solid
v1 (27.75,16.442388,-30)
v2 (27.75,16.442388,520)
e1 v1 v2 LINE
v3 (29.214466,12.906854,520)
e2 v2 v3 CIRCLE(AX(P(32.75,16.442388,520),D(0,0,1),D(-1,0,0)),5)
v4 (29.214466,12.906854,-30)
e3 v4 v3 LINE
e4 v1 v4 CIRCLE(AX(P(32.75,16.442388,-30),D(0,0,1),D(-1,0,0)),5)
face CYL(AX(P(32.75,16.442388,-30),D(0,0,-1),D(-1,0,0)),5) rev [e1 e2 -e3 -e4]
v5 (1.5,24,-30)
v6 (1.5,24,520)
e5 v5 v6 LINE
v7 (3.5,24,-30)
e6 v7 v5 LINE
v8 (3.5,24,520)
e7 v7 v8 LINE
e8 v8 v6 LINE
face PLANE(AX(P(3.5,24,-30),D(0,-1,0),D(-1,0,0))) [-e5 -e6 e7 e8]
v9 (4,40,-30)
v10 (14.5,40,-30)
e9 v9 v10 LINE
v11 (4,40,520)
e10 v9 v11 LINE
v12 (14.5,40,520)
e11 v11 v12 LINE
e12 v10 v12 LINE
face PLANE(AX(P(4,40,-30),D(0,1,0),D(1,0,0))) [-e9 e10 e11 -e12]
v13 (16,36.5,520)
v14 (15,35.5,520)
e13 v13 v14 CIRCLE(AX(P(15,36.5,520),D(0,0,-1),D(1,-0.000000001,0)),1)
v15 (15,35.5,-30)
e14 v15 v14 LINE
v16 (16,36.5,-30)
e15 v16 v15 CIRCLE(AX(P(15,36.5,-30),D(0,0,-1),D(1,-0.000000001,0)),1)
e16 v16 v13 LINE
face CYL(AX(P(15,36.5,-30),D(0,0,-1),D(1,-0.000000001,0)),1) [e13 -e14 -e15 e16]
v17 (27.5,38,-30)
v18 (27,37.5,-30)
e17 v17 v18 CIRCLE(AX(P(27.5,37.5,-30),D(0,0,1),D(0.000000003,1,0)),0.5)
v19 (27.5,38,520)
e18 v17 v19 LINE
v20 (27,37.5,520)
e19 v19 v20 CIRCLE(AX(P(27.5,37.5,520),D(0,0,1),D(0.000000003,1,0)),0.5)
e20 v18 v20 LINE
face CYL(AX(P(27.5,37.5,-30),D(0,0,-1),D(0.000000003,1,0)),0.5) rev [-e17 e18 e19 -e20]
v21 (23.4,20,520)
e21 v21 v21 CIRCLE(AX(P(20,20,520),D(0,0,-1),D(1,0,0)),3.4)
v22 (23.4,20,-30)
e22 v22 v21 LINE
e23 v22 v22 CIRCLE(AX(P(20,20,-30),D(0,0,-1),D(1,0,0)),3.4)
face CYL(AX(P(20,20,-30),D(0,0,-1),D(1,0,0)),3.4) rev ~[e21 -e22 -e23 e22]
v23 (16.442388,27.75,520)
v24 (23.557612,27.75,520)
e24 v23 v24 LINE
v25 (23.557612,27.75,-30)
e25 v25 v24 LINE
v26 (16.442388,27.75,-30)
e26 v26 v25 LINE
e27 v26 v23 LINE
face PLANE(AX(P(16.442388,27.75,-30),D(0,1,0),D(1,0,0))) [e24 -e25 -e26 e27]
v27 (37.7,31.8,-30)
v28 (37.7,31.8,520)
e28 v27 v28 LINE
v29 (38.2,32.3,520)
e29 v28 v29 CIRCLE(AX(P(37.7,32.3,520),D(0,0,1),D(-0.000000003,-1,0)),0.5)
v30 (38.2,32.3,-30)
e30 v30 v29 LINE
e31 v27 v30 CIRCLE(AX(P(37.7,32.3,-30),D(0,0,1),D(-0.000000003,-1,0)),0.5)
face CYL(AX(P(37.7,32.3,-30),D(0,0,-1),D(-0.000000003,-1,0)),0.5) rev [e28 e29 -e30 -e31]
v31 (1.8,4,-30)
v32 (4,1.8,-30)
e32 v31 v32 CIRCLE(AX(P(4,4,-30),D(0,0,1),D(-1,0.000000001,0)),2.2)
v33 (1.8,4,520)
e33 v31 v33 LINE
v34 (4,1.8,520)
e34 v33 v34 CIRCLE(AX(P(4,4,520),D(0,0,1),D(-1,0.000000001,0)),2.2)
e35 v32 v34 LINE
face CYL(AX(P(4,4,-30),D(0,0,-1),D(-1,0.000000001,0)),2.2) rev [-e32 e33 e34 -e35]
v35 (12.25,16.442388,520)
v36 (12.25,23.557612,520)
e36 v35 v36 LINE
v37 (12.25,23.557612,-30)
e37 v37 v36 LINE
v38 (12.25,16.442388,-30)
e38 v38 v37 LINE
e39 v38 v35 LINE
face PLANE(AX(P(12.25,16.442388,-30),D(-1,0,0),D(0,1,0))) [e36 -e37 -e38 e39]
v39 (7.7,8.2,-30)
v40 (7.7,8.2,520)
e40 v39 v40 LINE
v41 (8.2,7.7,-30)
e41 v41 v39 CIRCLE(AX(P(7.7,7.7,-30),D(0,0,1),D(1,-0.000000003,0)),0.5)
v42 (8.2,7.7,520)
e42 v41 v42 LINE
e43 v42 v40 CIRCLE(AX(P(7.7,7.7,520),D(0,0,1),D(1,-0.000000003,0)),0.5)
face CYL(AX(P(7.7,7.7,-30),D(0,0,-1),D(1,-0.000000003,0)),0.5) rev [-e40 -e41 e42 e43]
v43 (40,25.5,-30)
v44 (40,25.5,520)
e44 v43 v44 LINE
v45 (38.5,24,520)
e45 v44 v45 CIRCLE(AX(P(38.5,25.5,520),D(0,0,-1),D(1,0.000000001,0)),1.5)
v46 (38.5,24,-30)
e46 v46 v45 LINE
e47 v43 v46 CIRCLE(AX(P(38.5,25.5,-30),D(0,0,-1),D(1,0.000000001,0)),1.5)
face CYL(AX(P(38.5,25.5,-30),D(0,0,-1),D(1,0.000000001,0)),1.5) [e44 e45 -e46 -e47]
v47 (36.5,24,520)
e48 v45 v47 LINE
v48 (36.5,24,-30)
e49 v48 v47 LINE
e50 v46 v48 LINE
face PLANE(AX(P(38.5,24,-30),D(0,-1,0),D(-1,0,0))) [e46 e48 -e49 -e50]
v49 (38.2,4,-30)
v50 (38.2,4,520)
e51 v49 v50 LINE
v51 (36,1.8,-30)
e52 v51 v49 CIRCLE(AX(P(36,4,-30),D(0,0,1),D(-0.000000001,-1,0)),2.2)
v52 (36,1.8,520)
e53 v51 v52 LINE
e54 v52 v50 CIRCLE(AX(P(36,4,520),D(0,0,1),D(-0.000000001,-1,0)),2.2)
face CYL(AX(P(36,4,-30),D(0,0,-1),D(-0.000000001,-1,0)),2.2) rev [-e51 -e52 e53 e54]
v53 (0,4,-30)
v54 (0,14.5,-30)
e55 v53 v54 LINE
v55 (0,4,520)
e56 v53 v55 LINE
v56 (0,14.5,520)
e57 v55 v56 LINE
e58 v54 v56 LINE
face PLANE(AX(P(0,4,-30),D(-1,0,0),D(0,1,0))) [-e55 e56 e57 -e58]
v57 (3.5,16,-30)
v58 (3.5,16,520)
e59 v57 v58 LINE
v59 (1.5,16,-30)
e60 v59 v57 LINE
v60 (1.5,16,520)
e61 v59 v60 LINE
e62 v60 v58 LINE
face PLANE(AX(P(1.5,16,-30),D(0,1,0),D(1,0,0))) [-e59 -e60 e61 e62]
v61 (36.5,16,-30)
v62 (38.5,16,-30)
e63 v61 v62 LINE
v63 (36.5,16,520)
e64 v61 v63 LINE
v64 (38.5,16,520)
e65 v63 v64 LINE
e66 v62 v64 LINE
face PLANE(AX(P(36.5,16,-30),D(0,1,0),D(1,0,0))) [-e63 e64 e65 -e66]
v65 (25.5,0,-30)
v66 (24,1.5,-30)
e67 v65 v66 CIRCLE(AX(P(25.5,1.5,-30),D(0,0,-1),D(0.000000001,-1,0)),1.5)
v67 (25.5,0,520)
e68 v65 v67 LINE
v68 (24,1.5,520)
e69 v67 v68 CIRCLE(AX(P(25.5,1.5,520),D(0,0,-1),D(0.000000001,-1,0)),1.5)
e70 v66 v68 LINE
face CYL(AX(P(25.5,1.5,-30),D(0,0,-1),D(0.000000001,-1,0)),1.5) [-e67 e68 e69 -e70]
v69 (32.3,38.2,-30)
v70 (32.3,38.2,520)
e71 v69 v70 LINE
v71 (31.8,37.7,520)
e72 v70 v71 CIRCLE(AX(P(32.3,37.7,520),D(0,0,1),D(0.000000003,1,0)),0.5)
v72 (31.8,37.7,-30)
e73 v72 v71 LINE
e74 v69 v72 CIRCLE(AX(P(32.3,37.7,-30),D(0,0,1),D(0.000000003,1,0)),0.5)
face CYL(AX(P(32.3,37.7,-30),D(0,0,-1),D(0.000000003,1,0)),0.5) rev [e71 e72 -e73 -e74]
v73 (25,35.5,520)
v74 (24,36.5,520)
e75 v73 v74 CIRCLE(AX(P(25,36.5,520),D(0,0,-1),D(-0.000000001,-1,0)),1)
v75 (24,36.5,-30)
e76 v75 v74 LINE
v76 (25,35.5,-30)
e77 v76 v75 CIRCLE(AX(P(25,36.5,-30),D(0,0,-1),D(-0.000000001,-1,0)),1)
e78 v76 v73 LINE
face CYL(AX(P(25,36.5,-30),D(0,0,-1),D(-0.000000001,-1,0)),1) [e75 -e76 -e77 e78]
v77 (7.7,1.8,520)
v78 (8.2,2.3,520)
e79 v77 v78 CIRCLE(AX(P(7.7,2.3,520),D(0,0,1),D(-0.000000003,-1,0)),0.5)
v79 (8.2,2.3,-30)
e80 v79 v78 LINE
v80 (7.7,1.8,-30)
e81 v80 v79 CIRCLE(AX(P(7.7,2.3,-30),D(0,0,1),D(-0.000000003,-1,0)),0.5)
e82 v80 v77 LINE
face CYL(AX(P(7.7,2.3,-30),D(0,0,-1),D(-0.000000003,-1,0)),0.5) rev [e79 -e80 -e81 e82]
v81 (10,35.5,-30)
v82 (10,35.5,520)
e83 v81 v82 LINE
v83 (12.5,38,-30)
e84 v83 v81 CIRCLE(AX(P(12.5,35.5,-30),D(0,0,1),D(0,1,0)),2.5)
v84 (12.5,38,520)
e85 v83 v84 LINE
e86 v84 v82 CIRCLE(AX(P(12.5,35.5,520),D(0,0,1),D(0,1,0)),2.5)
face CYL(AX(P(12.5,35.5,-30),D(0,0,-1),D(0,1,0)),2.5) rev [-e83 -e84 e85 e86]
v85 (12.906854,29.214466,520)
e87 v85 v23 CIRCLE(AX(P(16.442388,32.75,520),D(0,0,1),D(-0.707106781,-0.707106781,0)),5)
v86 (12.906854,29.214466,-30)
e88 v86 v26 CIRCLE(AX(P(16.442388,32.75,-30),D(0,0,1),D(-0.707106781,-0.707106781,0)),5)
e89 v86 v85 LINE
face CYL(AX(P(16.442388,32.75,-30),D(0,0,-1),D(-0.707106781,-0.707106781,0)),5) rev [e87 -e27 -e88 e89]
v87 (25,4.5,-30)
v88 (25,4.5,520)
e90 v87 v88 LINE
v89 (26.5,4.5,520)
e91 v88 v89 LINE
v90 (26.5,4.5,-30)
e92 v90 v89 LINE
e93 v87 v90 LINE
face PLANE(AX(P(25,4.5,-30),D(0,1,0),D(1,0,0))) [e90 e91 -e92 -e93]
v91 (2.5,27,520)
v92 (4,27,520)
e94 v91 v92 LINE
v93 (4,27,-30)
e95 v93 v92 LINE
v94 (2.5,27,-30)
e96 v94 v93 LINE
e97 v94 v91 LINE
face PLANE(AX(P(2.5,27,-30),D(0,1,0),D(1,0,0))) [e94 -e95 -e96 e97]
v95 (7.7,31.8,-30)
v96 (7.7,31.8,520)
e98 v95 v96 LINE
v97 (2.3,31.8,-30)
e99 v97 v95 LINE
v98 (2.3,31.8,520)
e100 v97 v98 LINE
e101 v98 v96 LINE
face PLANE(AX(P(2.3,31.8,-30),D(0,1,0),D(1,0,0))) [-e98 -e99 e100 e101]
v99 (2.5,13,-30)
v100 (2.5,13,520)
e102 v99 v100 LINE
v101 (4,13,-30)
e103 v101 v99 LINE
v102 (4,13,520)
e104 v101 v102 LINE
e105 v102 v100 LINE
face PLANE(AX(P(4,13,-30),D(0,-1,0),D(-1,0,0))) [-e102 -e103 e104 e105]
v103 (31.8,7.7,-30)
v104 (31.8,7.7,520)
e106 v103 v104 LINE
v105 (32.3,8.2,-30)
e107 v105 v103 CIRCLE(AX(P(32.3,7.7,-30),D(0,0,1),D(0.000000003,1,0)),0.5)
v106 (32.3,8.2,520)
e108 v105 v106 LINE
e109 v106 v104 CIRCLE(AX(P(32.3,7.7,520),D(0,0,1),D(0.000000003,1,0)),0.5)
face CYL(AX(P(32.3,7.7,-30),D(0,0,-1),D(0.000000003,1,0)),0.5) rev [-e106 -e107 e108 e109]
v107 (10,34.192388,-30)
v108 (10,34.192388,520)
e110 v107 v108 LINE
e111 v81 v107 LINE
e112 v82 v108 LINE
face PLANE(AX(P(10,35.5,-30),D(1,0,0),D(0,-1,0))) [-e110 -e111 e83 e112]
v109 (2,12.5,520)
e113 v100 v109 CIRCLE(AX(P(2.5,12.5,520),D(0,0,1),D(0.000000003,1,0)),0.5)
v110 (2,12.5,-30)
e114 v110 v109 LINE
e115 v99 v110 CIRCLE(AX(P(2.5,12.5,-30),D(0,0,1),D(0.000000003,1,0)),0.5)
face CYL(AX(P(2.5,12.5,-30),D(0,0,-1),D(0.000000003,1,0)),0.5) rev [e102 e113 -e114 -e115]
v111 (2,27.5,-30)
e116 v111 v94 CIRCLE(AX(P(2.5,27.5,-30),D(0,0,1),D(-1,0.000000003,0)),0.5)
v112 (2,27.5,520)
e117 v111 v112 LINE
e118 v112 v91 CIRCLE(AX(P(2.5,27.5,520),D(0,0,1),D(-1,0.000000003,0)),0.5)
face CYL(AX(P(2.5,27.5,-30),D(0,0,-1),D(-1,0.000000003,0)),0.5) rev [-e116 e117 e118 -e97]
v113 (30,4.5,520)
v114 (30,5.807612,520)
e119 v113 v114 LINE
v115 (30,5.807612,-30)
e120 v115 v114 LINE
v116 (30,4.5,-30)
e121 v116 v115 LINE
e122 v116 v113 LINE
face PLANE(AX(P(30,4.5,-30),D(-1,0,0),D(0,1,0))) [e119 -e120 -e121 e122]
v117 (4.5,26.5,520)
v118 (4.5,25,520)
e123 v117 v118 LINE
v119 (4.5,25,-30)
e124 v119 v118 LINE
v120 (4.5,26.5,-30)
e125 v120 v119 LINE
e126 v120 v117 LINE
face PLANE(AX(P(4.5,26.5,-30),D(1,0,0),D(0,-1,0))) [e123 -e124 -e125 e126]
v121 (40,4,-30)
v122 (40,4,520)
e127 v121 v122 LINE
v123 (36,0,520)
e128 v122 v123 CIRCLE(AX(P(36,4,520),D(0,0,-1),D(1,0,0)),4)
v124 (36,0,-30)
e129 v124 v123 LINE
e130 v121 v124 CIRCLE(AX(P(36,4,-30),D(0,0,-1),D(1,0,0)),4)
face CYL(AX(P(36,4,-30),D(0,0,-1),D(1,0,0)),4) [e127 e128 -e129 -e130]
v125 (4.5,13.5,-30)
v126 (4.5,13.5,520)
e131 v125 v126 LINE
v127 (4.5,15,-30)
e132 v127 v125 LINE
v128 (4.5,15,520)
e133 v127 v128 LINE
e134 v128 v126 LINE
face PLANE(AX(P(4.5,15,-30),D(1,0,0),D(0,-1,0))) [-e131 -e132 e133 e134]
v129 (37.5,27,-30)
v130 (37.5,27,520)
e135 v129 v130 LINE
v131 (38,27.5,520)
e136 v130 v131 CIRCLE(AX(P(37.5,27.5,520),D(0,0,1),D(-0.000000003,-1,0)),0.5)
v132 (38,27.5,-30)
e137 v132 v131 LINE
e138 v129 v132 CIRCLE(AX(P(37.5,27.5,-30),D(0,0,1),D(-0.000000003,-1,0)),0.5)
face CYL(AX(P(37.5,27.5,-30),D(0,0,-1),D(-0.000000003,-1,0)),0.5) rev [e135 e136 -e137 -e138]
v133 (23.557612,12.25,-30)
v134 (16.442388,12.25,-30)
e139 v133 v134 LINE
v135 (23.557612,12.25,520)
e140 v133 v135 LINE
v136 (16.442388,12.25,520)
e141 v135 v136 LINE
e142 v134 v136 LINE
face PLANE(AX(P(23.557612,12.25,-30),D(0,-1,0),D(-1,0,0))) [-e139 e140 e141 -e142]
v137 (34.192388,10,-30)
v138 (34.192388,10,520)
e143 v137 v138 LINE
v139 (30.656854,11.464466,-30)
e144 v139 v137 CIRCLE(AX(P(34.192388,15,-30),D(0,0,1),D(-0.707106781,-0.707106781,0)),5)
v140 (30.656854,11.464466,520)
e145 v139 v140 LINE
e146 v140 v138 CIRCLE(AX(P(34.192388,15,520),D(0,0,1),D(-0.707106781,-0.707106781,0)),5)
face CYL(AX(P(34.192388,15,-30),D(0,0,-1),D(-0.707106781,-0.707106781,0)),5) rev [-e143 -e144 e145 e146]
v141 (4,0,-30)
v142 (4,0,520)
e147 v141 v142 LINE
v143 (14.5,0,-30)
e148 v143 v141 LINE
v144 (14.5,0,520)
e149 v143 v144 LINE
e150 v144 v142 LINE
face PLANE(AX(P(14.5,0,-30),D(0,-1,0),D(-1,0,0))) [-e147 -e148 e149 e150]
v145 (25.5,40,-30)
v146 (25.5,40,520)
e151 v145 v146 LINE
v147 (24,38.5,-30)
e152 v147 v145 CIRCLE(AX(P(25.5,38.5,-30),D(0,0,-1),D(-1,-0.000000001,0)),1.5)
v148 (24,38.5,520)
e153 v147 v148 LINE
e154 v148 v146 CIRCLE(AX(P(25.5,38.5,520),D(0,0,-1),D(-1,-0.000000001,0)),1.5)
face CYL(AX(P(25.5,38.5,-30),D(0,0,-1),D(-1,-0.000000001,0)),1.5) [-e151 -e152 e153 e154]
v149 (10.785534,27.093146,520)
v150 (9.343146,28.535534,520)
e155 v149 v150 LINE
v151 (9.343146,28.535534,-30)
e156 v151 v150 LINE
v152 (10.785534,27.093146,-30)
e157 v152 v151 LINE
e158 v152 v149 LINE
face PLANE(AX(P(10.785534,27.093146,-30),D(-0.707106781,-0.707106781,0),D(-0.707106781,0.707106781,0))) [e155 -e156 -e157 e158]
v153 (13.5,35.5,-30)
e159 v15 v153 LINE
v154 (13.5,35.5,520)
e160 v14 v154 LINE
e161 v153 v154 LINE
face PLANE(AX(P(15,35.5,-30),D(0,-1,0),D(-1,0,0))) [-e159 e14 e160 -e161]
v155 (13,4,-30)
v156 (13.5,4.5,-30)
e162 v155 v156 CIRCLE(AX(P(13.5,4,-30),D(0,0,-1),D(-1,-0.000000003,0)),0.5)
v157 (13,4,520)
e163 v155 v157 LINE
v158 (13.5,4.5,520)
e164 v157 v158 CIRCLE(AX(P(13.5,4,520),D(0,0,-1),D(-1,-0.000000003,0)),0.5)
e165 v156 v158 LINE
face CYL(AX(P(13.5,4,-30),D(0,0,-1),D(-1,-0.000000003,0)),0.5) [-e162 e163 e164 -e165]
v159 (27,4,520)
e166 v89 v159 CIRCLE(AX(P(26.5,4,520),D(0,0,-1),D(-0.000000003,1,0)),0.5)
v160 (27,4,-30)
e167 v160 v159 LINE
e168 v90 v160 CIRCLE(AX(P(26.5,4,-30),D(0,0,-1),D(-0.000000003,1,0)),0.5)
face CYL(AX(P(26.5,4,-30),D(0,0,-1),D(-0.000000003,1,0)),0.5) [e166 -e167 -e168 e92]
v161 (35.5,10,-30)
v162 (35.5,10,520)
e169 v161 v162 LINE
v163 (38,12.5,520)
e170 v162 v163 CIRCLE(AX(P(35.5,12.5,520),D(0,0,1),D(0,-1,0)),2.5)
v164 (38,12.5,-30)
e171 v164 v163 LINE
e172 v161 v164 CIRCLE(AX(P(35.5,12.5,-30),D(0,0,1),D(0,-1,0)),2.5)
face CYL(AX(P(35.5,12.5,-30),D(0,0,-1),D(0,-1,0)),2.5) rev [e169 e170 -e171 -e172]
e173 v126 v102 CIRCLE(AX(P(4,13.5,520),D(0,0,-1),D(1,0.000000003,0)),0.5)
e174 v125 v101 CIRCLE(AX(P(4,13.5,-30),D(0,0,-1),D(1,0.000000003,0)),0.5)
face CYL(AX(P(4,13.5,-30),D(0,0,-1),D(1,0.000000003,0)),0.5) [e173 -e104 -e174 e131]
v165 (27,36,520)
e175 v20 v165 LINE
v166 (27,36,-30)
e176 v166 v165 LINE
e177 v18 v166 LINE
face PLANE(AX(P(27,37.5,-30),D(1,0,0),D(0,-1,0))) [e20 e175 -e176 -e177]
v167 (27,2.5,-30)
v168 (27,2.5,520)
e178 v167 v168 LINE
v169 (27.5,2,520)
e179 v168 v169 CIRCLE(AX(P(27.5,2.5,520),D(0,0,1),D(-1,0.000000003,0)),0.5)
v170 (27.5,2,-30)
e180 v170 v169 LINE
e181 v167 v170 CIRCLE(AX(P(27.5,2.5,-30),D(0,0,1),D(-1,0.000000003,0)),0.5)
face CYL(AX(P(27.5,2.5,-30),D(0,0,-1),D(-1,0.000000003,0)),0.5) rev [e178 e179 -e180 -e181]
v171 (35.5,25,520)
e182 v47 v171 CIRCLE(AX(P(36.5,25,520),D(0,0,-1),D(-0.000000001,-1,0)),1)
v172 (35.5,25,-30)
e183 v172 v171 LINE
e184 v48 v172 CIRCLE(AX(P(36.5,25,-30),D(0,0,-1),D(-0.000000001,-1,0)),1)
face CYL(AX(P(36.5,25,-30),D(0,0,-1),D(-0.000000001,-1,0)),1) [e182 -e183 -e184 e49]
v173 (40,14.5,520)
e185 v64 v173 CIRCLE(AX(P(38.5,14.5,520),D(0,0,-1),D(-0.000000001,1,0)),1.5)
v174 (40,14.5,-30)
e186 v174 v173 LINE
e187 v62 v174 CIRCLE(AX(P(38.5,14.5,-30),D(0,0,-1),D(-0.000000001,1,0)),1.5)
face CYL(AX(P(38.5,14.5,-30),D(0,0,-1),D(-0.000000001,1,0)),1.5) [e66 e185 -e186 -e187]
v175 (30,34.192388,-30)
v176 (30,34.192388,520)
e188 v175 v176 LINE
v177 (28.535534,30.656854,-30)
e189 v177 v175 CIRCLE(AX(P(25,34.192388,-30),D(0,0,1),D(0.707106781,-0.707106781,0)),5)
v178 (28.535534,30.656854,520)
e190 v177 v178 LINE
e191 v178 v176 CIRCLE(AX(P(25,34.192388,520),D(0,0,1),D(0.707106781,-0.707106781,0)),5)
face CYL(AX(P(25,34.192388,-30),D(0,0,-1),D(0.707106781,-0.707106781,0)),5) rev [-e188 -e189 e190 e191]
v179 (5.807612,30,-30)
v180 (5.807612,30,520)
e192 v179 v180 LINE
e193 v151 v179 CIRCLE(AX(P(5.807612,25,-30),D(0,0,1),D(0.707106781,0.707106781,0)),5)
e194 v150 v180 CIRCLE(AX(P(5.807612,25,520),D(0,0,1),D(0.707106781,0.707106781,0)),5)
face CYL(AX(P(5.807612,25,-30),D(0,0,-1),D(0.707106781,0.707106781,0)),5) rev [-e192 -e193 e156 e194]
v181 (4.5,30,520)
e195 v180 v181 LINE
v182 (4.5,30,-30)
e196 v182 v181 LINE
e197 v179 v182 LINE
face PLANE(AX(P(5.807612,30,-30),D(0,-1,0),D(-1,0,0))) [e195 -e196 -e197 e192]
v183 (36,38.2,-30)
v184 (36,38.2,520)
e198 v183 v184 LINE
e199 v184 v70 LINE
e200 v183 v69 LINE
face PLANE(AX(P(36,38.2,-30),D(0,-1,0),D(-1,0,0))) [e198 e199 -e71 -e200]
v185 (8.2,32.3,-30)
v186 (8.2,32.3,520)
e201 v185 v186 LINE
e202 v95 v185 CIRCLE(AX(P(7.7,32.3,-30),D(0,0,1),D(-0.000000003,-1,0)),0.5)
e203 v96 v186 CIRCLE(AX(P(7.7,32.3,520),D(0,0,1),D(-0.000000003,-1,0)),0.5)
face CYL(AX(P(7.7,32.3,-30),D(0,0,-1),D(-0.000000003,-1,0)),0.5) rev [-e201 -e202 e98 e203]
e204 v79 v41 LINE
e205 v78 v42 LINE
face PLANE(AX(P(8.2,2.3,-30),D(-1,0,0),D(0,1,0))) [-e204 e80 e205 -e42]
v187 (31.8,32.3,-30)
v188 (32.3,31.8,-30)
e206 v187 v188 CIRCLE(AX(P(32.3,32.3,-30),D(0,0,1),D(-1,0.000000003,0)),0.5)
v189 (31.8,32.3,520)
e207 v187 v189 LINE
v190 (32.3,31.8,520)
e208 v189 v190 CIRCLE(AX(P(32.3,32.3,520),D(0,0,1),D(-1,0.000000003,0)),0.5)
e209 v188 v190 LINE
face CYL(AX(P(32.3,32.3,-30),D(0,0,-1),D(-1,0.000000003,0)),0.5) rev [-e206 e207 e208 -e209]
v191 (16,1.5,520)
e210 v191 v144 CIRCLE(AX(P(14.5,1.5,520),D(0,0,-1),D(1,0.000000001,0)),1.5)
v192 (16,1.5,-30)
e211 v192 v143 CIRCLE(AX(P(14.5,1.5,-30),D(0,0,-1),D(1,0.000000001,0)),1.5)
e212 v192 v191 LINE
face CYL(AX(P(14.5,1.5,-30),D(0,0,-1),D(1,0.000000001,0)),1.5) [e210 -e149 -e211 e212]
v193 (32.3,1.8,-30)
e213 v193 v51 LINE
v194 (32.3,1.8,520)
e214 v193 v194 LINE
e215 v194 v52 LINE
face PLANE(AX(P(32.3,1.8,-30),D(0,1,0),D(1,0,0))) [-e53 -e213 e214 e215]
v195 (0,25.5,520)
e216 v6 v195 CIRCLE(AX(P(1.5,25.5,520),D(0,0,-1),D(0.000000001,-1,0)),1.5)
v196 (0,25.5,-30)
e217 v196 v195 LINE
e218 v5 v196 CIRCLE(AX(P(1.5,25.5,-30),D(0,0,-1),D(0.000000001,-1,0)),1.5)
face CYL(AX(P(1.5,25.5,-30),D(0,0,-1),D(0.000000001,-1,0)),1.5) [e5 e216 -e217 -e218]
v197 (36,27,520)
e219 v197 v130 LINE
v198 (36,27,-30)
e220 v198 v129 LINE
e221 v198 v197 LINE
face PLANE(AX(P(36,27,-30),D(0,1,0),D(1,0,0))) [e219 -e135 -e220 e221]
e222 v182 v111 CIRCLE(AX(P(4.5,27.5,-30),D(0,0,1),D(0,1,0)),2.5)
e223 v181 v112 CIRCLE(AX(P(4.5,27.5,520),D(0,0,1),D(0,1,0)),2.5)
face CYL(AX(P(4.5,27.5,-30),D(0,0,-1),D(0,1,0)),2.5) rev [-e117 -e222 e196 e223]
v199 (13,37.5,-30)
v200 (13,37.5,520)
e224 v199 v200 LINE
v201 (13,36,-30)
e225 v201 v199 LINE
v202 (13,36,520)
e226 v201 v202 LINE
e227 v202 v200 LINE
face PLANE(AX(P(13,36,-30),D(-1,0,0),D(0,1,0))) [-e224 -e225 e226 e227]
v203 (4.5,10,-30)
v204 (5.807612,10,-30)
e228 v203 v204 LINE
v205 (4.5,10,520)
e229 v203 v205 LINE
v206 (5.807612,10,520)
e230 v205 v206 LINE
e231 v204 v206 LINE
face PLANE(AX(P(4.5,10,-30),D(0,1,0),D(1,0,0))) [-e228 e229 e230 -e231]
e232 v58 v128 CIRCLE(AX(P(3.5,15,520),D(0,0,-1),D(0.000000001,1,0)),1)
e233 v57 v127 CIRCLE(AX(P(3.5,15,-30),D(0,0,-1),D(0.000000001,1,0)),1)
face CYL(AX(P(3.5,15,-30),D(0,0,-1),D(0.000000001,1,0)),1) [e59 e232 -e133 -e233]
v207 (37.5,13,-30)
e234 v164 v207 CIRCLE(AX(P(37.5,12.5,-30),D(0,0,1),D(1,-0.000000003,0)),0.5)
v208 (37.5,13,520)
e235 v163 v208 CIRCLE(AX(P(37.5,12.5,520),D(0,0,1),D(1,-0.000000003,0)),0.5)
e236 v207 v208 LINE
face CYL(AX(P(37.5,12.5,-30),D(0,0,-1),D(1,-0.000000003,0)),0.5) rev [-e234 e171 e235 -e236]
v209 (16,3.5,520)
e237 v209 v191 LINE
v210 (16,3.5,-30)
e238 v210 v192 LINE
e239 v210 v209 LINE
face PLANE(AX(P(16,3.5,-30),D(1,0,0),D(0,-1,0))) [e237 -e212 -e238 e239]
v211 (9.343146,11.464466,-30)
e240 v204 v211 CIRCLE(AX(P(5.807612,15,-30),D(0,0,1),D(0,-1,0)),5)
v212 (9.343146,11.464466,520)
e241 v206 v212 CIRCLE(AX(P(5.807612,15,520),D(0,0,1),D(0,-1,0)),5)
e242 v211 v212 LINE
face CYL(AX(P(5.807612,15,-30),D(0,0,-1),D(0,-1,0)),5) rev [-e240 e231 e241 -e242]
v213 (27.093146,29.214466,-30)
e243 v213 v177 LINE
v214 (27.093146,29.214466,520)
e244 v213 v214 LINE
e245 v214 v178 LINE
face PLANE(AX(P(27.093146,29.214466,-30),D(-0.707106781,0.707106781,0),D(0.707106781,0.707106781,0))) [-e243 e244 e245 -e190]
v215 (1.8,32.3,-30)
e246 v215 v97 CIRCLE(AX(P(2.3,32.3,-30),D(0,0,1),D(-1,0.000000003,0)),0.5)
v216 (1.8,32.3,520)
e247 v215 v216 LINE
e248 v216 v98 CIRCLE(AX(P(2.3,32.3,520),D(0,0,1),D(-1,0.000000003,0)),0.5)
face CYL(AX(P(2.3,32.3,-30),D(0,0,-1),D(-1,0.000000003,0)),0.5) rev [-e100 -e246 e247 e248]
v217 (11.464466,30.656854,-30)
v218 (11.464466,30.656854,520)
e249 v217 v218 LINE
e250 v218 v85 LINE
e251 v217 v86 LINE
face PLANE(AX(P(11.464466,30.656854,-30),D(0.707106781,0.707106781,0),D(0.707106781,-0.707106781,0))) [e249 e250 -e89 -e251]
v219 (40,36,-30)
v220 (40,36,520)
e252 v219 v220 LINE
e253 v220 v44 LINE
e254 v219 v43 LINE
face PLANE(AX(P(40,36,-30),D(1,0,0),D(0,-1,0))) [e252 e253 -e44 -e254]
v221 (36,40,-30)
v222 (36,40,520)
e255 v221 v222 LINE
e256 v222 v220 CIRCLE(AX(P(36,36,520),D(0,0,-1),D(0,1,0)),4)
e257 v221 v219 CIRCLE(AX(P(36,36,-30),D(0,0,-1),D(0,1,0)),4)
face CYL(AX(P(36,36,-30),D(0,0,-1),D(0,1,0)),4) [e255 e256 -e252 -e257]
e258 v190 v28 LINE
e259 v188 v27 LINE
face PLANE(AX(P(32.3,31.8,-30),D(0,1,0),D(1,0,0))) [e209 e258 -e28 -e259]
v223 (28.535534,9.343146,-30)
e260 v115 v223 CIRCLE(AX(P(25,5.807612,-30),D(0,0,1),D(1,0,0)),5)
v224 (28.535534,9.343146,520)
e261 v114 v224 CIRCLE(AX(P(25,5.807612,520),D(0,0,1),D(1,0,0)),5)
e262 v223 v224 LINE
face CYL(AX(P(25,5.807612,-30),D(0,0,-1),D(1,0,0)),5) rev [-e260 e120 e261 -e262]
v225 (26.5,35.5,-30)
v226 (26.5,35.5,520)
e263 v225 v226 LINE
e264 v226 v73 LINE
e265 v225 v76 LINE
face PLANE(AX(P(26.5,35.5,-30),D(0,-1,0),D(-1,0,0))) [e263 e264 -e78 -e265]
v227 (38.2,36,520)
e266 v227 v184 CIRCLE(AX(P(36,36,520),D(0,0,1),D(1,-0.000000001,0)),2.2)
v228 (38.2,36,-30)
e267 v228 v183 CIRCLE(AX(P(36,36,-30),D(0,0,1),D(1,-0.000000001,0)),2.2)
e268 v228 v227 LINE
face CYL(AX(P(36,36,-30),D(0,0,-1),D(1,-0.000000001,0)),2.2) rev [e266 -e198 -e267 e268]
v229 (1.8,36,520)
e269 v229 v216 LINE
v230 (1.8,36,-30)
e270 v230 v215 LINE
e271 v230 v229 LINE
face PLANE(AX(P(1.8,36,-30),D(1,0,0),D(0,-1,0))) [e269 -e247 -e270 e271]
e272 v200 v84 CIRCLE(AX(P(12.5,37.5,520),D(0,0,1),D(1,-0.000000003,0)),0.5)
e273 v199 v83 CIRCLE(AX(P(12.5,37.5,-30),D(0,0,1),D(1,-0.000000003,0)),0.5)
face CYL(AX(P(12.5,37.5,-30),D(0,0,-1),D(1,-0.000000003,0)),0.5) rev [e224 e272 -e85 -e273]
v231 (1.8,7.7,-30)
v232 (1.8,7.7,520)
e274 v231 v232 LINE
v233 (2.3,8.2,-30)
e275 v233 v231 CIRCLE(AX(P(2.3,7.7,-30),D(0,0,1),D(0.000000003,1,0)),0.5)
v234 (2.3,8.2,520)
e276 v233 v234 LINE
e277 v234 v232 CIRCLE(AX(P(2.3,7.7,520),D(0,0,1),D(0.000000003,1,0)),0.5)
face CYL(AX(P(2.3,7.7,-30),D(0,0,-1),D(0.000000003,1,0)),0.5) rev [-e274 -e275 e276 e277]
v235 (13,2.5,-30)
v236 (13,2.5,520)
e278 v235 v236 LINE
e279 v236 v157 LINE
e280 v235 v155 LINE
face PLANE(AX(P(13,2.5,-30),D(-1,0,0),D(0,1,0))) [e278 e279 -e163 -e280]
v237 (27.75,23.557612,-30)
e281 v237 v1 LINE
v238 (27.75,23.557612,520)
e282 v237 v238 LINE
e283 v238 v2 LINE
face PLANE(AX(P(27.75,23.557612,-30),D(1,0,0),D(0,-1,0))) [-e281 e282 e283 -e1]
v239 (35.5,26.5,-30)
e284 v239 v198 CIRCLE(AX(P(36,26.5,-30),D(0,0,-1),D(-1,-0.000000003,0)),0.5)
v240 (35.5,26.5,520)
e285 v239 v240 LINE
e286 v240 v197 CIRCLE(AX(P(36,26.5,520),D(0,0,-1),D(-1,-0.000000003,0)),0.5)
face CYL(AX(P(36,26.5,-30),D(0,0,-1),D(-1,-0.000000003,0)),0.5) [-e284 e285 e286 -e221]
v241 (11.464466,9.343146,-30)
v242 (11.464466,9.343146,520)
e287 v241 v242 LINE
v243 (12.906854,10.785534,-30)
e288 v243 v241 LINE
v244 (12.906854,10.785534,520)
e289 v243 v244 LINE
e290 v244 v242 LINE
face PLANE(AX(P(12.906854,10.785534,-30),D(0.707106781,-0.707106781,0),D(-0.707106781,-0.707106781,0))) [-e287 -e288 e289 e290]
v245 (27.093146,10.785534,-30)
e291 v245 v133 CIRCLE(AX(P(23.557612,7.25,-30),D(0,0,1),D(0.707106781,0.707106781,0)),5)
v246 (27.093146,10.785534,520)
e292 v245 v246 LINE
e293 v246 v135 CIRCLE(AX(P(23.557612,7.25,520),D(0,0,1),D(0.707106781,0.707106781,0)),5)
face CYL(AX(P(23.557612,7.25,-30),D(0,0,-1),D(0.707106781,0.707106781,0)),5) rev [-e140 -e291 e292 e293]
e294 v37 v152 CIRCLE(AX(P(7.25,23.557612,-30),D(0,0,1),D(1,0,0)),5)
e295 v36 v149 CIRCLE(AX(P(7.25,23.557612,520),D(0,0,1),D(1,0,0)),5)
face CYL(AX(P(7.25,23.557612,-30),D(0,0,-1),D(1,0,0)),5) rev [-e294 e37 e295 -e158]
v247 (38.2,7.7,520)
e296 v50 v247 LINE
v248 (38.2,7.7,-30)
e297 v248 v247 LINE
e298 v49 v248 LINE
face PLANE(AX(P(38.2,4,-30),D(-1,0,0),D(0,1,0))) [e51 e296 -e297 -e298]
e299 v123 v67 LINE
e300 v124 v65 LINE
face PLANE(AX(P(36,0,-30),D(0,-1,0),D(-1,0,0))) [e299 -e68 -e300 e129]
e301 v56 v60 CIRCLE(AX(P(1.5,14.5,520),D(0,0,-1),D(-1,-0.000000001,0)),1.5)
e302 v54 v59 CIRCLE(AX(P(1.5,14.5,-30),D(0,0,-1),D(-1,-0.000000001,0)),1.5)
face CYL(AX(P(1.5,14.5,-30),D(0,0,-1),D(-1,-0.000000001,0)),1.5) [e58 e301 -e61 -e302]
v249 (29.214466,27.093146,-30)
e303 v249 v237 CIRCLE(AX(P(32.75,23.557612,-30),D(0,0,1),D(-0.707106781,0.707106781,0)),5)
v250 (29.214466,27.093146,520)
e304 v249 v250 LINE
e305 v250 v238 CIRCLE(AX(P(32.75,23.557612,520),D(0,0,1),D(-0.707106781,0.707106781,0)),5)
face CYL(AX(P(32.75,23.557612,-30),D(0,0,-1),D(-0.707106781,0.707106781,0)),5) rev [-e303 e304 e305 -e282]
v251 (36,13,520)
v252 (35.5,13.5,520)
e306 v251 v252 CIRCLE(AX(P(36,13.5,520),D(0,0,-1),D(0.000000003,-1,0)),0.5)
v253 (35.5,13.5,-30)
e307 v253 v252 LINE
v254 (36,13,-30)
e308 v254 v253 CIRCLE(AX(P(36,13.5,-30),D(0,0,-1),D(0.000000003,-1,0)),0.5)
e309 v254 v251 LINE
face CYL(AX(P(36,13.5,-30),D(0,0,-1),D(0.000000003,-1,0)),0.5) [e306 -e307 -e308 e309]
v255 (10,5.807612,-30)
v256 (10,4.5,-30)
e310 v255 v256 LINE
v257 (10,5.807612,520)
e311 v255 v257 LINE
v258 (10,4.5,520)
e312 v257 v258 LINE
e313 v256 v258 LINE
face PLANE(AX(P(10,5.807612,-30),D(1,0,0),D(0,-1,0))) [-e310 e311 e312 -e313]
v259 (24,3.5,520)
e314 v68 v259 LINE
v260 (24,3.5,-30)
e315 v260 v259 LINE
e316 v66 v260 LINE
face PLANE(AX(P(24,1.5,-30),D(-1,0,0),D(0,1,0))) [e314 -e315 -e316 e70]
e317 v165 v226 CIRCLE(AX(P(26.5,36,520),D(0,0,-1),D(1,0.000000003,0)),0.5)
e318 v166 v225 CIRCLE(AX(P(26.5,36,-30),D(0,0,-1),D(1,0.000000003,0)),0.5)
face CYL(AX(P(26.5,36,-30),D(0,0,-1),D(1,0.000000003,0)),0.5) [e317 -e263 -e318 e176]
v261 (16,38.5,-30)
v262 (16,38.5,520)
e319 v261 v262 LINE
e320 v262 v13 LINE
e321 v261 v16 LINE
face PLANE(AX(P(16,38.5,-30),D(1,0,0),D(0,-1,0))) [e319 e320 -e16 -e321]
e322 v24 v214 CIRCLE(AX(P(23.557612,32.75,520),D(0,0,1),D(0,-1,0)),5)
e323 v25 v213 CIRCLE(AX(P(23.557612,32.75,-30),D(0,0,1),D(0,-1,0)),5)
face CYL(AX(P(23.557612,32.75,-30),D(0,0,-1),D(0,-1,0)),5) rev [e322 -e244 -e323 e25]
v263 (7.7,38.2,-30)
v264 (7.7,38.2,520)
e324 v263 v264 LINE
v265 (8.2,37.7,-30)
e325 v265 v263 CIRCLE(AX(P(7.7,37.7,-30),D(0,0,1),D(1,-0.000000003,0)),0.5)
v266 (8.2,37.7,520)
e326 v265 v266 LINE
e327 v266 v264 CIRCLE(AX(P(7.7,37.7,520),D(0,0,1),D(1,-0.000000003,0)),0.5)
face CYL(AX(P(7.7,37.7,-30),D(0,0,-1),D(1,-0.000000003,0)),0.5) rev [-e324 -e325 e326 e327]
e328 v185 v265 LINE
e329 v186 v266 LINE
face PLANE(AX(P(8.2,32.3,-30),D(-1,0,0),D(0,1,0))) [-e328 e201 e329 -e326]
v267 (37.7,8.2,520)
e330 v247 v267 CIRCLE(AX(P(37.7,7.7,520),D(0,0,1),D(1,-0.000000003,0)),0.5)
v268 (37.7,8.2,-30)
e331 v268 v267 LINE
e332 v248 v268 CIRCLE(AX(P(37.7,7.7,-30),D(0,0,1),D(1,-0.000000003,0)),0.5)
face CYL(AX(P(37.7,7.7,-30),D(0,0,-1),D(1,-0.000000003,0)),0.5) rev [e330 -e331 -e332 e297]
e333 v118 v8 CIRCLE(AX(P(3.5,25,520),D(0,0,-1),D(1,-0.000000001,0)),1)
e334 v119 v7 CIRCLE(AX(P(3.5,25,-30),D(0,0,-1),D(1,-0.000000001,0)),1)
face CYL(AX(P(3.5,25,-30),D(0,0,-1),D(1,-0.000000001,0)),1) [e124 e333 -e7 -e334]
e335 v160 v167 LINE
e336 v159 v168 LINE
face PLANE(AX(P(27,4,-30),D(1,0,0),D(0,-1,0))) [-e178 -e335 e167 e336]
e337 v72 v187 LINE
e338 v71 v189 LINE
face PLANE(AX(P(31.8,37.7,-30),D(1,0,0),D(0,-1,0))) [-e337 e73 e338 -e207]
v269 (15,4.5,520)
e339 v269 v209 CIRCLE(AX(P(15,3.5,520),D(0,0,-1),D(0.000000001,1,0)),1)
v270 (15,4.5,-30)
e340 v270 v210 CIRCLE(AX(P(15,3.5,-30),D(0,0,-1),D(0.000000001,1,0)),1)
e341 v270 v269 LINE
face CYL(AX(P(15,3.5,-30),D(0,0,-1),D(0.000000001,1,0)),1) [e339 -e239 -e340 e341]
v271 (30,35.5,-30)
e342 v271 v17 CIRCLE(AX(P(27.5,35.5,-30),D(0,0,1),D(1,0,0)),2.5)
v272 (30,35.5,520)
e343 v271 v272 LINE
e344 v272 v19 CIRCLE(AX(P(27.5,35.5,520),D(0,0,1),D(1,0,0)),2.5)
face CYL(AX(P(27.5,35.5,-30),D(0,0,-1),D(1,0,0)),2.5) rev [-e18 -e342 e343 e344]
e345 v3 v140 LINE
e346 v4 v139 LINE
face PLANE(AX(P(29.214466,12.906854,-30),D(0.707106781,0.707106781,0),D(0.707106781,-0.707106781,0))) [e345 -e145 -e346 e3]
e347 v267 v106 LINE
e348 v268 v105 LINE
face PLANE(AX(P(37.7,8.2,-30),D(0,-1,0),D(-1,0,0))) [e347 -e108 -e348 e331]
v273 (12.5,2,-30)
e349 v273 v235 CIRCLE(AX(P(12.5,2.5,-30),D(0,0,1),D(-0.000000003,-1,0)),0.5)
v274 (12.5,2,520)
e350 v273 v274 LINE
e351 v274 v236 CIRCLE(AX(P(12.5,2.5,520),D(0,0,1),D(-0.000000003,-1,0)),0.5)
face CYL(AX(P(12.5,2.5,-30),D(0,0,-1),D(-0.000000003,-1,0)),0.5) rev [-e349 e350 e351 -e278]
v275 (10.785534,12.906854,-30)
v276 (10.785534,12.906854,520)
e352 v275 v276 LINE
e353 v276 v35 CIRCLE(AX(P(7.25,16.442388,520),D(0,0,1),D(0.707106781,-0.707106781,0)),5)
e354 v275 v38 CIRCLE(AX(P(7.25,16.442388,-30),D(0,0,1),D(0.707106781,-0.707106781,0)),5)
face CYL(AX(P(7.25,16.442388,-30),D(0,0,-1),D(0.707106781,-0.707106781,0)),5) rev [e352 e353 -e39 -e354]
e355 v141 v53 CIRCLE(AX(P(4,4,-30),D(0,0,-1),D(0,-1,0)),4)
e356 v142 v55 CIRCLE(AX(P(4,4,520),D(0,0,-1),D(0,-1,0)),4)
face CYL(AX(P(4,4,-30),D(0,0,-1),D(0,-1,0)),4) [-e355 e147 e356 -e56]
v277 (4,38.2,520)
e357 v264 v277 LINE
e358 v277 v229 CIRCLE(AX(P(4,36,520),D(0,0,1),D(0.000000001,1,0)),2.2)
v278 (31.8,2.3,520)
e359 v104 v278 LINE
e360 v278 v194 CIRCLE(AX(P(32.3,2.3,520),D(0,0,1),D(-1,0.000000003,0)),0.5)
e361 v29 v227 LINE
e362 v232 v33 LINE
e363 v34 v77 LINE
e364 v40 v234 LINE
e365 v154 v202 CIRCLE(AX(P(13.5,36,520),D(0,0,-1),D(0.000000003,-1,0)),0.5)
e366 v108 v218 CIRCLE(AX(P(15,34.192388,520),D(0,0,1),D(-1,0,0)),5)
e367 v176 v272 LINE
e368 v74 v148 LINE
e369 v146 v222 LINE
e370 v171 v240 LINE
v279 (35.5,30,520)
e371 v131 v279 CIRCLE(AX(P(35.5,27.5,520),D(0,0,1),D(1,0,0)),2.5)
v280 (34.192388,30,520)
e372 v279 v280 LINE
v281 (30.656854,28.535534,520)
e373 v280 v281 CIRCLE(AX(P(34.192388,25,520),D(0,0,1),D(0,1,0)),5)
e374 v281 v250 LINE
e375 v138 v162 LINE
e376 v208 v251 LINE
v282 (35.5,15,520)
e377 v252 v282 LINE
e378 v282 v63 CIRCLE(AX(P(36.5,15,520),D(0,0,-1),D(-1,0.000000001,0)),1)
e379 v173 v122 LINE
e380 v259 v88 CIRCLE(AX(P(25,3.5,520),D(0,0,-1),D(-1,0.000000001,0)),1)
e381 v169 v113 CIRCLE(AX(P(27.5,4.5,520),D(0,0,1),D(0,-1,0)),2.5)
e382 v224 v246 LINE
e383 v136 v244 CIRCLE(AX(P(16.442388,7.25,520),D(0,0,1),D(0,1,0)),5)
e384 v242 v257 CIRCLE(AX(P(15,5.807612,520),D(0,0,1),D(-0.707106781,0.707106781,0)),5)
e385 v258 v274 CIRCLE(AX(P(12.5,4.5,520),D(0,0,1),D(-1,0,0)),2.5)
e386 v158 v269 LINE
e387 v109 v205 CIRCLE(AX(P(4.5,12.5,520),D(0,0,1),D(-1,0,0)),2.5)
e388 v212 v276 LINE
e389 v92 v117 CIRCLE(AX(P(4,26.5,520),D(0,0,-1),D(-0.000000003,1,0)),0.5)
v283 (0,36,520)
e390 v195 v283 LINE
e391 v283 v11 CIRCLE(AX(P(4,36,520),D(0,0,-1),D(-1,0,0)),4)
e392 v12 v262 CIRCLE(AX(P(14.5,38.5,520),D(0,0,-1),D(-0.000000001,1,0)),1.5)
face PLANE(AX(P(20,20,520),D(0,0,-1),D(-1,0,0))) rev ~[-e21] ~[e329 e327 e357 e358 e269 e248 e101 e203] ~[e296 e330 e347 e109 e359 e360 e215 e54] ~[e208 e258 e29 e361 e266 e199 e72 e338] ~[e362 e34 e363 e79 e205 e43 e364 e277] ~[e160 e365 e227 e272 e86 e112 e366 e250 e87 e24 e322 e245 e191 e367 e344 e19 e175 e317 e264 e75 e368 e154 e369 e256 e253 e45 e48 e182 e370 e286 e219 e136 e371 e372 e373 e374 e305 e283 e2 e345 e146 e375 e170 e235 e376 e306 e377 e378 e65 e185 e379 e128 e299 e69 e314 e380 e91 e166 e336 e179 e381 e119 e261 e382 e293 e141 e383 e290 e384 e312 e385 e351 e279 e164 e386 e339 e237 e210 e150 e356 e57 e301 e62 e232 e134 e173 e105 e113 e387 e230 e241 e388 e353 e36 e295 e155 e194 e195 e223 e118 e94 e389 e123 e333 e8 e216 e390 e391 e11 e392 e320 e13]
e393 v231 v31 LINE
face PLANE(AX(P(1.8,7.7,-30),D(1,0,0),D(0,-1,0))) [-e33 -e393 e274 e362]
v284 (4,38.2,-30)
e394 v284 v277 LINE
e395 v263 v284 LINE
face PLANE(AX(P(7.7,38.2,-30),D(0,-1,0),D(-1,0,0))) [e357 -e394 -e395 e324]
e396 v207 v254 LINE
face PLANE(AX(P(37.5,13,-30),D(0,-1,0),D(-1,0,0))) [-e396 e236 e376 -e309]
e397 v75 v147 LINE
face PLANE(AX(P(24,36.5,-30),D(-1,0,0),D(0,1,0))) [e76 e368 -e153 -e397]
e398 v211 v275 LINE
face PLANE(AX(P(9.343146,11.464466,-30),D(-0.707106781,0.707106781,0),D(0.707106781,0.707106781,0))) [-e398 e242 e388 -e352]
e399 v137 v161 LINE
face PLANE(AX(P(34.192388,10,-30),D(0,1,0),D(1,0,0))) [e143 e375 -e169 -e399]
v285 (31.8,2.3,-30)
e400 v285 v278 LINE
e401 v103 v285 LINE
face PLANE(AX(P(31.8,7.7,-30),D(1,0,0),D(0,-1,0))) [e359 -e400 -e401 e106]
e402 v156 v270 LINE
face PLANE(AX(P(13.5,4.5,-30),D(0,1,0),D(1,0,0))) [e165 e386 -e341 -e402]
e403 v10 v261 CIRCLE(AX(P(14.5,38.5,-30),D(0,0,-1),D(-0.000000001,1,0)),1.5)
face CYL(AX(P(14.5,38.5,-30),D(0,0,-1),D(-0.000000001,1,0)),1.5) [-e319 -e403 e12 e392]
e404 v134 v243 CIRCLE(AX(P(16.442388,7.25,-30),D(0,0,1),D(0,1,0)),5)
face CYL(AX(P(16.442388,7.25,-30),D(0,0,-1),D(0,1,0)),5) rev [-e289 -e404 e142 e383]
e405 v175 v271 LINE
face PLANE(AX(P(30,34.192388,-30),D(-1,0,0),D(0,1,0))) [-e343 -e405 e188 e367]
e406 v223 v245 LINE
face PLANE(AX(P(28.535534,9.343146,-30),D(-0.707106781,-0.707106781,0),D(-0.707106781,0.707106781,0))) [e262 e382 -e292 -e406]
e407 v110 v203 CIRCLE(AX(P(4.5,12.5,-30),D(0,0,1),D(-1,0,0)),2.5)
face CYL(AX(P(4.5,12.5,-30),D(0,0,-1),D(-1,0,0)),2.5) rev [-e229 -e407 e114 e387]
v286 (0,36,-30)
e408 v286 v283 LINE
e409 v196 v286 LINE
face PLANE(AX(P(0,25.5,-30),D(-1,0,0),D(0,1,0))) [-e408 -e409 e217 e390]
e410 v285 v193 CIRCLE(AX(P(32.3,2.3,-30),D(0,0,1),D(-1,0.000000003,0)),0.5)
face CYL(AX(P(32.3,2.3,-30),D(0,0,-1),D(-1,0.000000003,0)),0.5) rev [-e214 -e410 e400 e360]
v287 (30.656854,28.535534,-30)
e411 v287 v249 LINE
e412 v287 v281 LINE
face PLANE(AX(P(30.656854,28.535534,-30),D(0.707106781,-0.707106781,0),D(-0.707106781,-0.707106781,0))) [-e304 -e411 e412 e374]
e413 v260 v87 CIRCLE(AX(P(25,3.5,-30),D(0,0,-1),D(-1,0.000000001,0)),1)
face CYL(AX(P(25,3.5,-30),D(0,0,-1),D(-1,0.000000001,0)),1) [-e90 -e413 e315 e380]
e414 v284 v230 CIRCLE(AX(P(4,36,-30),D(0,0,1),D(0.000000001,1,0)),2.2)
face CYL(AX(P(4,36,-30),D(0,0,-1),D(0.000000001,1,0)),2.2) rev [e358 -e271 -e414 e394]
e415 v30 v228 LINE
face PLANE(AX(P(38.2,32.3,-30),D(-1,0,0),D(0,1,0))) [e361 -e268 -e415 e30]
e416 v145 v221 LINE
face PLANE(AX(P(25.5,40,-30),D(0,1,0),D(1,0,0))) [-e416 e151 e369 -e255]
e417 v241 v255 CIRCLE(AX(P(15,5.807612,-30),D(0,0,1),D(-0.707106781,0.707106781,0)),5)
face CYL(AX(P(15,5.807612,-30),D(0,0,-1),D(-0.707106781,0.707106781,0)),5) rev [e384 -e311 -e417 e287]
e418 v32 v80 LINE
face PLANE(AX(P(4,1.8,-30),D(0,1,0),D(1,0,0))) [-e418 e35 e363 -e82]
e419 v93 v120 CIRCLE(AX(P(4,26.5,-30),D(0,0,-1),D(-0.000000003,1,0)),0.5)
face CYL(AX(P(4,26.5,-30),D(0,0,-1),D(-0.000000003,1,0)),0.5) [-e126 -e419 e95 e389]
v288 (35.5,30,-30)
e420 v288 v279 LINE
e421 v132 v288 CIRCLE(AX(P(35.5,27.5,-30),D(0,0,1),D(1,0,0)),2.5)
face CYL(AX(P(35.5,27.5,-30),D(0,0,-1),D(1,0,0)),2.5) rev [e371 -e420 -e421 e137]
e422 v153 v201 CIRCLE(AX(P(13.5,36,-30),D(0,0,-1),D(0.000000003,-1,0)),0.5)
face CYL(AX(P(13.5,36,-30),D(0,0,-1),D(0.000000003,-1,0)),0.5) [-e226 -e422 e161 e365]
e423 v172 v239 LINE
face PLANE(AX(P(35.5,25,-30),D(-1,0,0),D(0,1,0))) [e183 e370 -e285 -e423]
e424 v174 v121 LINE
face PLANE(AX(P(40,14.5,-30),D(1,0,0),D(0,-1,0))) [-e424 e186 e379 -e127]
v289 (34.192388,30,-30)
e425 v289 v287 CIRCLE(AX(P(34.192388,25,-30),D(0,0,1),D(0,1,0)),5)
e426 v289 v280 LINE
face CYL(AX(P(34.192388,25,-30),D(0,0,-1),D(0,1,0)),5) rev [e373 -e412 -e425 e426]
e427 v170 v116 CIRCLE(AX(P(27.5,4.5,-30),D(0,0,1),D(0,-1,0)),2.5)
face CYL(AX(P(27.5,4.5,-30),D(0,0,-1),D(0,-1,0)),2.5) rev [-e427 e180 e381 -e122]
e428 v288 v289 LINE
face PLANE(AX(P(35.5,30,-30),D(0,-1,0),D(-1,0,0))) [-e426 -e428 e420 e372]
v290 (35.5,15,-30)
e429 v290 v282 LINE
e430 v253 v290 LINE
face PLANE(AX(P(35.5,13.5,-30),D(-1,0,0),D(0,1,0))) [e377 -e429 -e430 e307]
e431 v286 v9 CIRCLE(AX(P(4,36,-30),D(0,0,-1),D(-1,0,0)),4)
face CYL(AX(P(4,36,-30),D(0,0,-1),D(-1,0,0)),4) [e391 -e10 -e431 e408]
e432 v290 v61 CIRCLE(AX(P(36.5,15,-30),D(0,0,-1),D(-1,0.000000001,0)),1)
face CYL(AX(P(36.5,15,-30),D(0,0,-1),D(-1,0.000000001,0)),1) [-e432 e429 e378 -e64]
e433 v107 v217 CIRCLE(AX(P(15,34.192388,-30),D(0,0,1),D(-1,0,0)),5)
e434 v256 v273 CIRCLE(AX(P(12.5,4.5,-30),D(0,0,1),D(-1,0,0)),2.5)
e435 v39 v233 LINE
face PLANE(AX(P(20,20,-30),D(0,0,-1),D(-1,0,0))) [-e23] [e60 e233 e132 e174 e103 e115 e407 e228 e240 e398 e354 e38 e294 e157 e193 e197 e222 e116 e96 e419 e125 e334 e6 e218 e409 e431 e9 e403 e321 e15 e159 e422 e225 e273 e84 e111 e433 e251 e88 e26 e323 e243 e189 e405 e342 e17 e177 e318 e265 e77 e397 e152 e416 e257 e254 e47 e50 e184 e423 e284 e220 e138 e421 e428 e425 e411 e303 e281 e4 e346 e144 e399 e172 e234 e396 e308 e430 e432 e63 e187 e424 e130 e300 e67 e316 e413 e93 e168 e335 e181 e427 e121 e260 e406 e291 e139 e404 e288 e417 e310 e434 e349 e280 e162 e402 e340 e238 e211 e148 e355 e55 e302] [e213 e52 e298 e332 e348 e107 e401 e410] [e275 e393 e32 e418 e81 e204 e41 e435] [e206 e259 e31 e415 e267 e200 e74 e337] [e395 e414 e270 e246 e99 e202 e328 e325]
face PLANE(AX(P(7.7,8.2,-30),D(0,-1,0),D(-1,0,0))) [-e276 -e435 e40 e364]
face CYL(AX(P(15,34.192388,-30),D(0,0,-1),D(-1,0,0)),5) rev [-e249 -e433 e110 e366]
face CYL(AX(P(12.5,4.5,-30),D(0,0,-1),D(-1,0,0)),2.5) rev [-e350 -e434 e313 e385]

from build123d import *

# Parameters (mm, degrees)
ESQUISSE1_R        = 3.4
BOSS_EXTRU_1_DEPTH = 550


with BuildPart() as part:
    # Esquisse1 → Boss.-Extru.1 (new body)
    with BuildSketch(Plane(origin=(0, 0, -30), x_dir=(-1, 0, 0), z_dir=(0, 0, -1))):
        with BuildLine():
            Line((-4.5, 15), (-4.5, 13.5))
            ThreePointArc((-4.5, 13.5), (-4.353553391, 13.146446609), (-4, 13))
            Line((-4, 13), (-2.5, 13))
            ThreePointArc((-2.5, 13), (-2.146446609, 12.853553391), (-2, 12.5))
            ThreePointArc((-2, 12.5), (-2.732233047, 10.732233047), (-4.5, 10))
            Line((-4.5, 10), (-5.807611845, 10))
            ThreePointArc((-5.807611845, 10), (-7.721029006, 10.380602337), (-9.343145751, 11.464466094))
            Line((-9.343145751, 11.464466094), (-10.785533906, 12.906854249))
            ThreePointArc((-10.785533906, 12.906854249), (-11.869397663, 14.528970994), (-12.25, 16.442388155))
            Line((-12.25, 16.442388155), (-12.25, 23.557611845))
            ThreePointArc((-12.25, 23.557611845), (-11.869397663, 25.471029006), (-10.785533906, 27.093145751))
            Line((-10.785533906, 27.093145751), (-9.343145751, 28.535533906))
            ThreePointArc((-9.343145751, 28.535533906), (-7.721029006, 29.619397663), (-5.807611845, 30))
            Line((-5.807611845, 30), (-4.5, 30))
            ThreePointArc((-4.5, 30), (-2.732233047, 29.267766953), (-2, 27.5))
            ThreePointArc((-2, 27.5), (-2.146446609, 27.146446609), (-2.5, 27))
            Line((-2.5, 27), (-4, 27))
            ThreePointArc((-4, 27), (-4.353553391, 26.853553391), (-4.5, 26.5))
            Line((-4.5, 26.5), (-4.5, 25))
            ThreePointArc((-4.5, 25), (-4.207106781, 24.292893219), (-3.5, 24))
            Line((-3.5, 24), (-1.5, 24))
            ThreePointArc((-1.5, 24), (-0.439339828, 24.439339828), (0, 25.5))
            Line((0, 25.5), (0, 36))
            ThreePointArc((0, 36), (-1.171572875, 38.828427125), (-4, 40))
            Line((-4, 40), (-14.5, 40))
            ThreePointArc((-14.5, 40), (-15.560660172, 39.560660172), (-16, 38.5))
            Line((-16, 38.5), (-16, 36.5))
            ThreePointArc((-16, 36.5), (-15.707106781, 35.792893219), (-15, 35.5))
            Line((-15, 35.5), (-13.5, 35.5))
            ThreePointArc((-13.5, 35.5), (-13.146446609, 35.646446609), (-13, 36))
            Line((-13, 36), (-13, 37.5))
            ThreePointArc((-13, 37.5), (-12.853553391, 37.853553391), (-12.5, 38))
            ThreePointArc((-12.5, 38), (-10.732233047, 37.267766953), (-10, 35.5))
            Line((-10, 35.5), (-10, 34.192388155))
            ThreePointArc((-10, 34.192388155), (-10.380602337, 32.278970994), (-11.464466094, 30.656854249))
            Line((-11.464466094, 30.656854249), (-12.906854249, 29.214466094))
            ThreePointArc((-12.906854249, 29.214466094), (-14.528970994, 28.130602337), (-16.442388155, 27.75))
            Line((-16.442388155, 27.75), (-23.557611845, 27.75))
            ThreePointArc((-23.557611845, 27.75), (-25.471029006, 28.130602337), (-27.093145751, 29.214466094))
            Line((-27.093145751, 29.214466094), (-28.535533906, 30.656854249))
            ThreePointArc((-28.535533906, 30.656854249), (-29.619397663, 32.278970994), (-30, 34.192388155))
            Line((-30, 34.192388155), (-30, 35.5))
            ThreePointArc((-30, 35.5), (-29.267766953, 37.267766953), (-27.5, 38))
            ThreePointArc((-27.5, 38), (-27.146446609, 37.853553391), (-27, 37.5))
            Line((-27, 37.5), (-27, 36))
            ThreePointArc((-27, 36), (-26.853553391, 35.646446609), (-26.5, 35.5))
            Line((-26.5, 35.5), (-25, 35.5))
            ThreePointArc((-25, 35.5), (-24.292893219, 35.792893219), (-24, 36.5))
            Line((-24, 36.5), (-24, 38.5))
            ThreePointArc((-24, 38.5), (-24.439339828, 39.560660172), (-25.5, 40))
            Line((-25.5, 40), (-36, 40))
            ThreePointArc((-36, 40), (-38.828427125, 38.828427125), (-40, 36))
            Line((-40, 36), (-40, 25.5))
            ThreePointArc((-40, 25.5), (-39.560660172, 24.439339828), (-38.5, 24))
            Line((-38.5, 24), (-36.5, 24))
            ThreePointArc((-36.5, 24), (-35.792893219, 24.292893219), (-35.5, 25))
            Line((-35.5, 25), (-35.5, 26.5))
            ThreePointArc((-35.5, 26.5), (-35.646446609, 26.853553391), (-36, 27))
            Line((-36, 27), (-37.5, 27))
            ThreePointArc((-37.5, 27), (-37.853553391, 27.146446609), (-38, 27.5))
            ThreePointArc((-38, 27.5), (-37.267766953, 29.267766953), (-35.5, 30))
            Line((-35.5, 30), (-34.192388155, 30))
            ThreePointArc((-34.192388155, 30), (-32.278970994, 29.619397663), (-30.656854249, 28.535533906))
            Line((-30.656854249, 28.535533906), (-29.214466094, 27.093145751))
            ThreePointArc((-29.214466094, 27.093145751), (-28.130602337, 25.471029006), (-27.75, 23.557611845))
            Line((-27.75, 23.557611845), (-27.75, 16.442388155))
            ThreePointArc((-27.75, 16.442388155), (-28.130602337, 14.528970994), (-29.214466094, 12.906854249))
            Line((-29.214466094, 12.906854249), (-30.656854249, 11.464466094))
            ThreePointArc((-30.656854249, 11.464466094), (-32.278970994, 10.380602337), (-34.192388155, 10))
            Line((-34.192388155, 10), (-35.5, 10))
            ThreePointArc((-35.5, 10), (-37.267766953, 10.732233047), (-38, 12.5))
            ThreePointArc((-38, 12.5), (-37.853553391, 12.853553391), (-37.5, 13))
            Line((-37.5, 13), (-36, 13))
            ThreePointArc((-36, 13), (-35.646446609, 13.146446609), (-35.5, 13.5))
            Line((-35.5, 13.5), (-35.5, 15))
            ThreePointArc((-35.5, 15), (-35.792893219, 15.707106781), (-36.5, 16))
            Line((-36.5, 16), (-38.5, 16))
            ThreePointArc((-38.5, 16), (-39.560660172, 15.560660172), (-40, 14.5))
            Line((-40, 14.5), (-40, 4))
            ThreePointArc((-40, 4), (-38.828427125, 1.171572875), (-36, 0))
            Line((-36, 0), (-25.5, 0))
            ThreePointArc((-25.5, 0), (-24.439339828, 0.439339828), (-24, 1.5))
            Line((-24, 1.5), (-24, 3.5))
            ThreePointArc((-24, 3.5), (-24.292893219, 4.207106781), (-25, 4.5))
            Line((-25, 4.5), (-26.5, 4.5))
            ThreePointArc((-26.5, 4.5), (-26.853553391, 4.353553391), (-27, 4))
            Line((-27, 4), (-27, 2.5))
            ThreePointArc((-27, 2.5), (-27.146446609, 2.146446609), (-27.5, 2))
            ThreePointArc((-27.5, 2), (-29.267766953, 2.732233047), (-30, 4.5))
            Line((-30, 4.5), (-30, 5.807611845))
            ThreePointArc((-30, 5.807611845), (-29.619397663, 7.721029006), (-28.535533906, 9.343145751))
            Line((-28.535533906, 9.343145751), (-27.093145751, 10.785533906))
            ThreePointArc((-27.093145751, 10.785533906), (-25.471029006, 11.869397663), (-23.557611845, 12.25))
            Line((-23.557611845, 12.25), (-16.442388155, 12.25))
            ThreePointArc((-16.442388155, 12.25), (-14.528970994, 11.869397663), (-12.906854249, 10.785533906))
            Line((-12.906854249, 10.785533906), (-11.464466094, 9.343145751))
            ThreePointArc((-11.464466094, 9.343145751), (-10.380602337, 7.721029006), (-10, 5.807611845))
            Line((-10, 5.807611845), (-10, 4.5))
            ThreePointArc((-10, 4.5), (-10.732233047, 2.732233047), (-12.5, 2))
            ThreePointArc((-12.5, 2), (-12.853553391, 2.146446609), (-13, 2.5))
            Line((-13, 2.5), (-13, 4))
            ThreePointArc((-13, 4), (-13.146446609, 4.353553391), (-13.5, 4.5))
            Line((-13.5, 4.5), (-15, 4.5))
            ThreePointArc((-15, 4.5), (-15.707106781, 4.207106781), (-16, 3.5))
            Line((-16, 3.5), (-16, 1.5))
            ThreePointArc((-16, 1.5), (-15.560660172, 0.439339828), (-14.5, 0))
            Line((-14.5, 0), (-4, 0))
            ThreePointArc((-4, 0), (-1.171572875, 1.171572875), (0, 4))
            Line((0, 4), (0, 14.5))
            ThreePointArc((0, 14.5), (-0.439339828, 15.560660172), (-1.5, 16))
            Line((-1.5, 16), (-3.5, 16))
            ThreePointArc((-3.5, 16), (-4.207106781, 15.707106781), (-4.5, 15))
        make_face()
        with Locations(Location((-20, 20, 0), (0, 0, 180))):
            Circle(ESQUISSE1_R, mode=Mode.SUBTRACT)
        with BuildLine():
            Line((-4, 1.8), (-7.7, 1.8))
            ThreePointArc((-7.7, 1.8), (-8.053553391, 1.946446609), (-8.2, 2.3))
            Line((-8.2, 2.3), (-8.2, 7.7))
            ThreePointArc((-8.2, 7.7), (-8.053553391, 8.053553391), (-7.7, 8.2))
            Line((-7.7, 8.2), (-2.3, 8.2))
            ThreePointArc((-2.3, 8.2), (-1.946446609, 8.053553391), (-1.8, 7.7))
            Line((-1.8, 7.7), (-1.8, 4))
            ThreePointArc((-1.8, 4), (-2.444365081, 2.444365081), (-4, 1.8))
        make_face(mode=Mode.SUBTRACT)
        with BuildLine():
            Line((-38.2, 4), (-38.2, 7.7))
            ThreePointArc((-38.2, 7.7), (-38.053553391, 8.053553391), (-37.7, 8.2))
            Line((-37.7, 8.2), (-32.3, 8.2))
            ThreePointArc((-32.3, 8.2), (-31.946446609, 8.053553391), (-31.8, 7.7))
            Line((-31.8, 7.7), (-31.8, 2.3))
            ThreePointArc((-31.8, 2.3), (-31.946446609, 1.946446609), (-32.3, 1.8))
            Line((-32.3, 1.8), (-36, 1.8))
            ThreePointArc((-36, 1.8), (-37.555634919, 2.444365081), (-38.2, 4))
        make_face(mode=Mode.SUBTRACT)
        with BuildLine():
            Line((-36, 38.2), (-32.3, 38.2))
            ThreePointArc((-32.3, 38.2), (-31.946446609, 38.053553391), (-31.8, 37.7))
            Line((-31.8, 37.7), (-31.8, 32.3))
            ThreePointArc((-31.8, 32.3), (-31.946446609, 31.946446609), (-32.3, 31.8))
            Line((-32.3, 31.8), (-37.7, 31.8))
            ThreePointArc((-37.7, 31.8), (-38.053553391, 31.946446609), (-38.2, 32.3))
            Line((-38.2, 32.3), (-38.2, 36))
            ThreePointArc((-38.2, 36), (-37.555634919, 37.555634919), (-36, 38.2))
        make_face(mode=Mode.SUBTRACT)
        with BuildLine():
            Line((-1.8, 36), (-1.8, 32.3))
            ThreePointArc((-1.8, 32.3), (-1.946446609, 31.946446609), (-2.3, 31.8))
            Line((-2.3, 31.8), (-7.7, 31.8))
            ThreePointArc((-7.7, 31.8), (-8.053553391, 31.946446609), (-8.2, 32.3))
            Line((-8.2, 32.3), (-8.2, 37.7))
            ThreePointArc((-8.2, 37.7), (-8.053553391, 38.053553391), (-7.7, 38.2))
            Line((-7.7, 38.2), (-4, 38.2))
            ThreePointArc((-4, 38.2), (-2.444365081, 37.555634919), (-1.8, 36))
        make_face(mode=Mode.SUBTRACT)
    extrude(amount=-BOSS_EXTRU_1_DEPTH)


solid = part.part
